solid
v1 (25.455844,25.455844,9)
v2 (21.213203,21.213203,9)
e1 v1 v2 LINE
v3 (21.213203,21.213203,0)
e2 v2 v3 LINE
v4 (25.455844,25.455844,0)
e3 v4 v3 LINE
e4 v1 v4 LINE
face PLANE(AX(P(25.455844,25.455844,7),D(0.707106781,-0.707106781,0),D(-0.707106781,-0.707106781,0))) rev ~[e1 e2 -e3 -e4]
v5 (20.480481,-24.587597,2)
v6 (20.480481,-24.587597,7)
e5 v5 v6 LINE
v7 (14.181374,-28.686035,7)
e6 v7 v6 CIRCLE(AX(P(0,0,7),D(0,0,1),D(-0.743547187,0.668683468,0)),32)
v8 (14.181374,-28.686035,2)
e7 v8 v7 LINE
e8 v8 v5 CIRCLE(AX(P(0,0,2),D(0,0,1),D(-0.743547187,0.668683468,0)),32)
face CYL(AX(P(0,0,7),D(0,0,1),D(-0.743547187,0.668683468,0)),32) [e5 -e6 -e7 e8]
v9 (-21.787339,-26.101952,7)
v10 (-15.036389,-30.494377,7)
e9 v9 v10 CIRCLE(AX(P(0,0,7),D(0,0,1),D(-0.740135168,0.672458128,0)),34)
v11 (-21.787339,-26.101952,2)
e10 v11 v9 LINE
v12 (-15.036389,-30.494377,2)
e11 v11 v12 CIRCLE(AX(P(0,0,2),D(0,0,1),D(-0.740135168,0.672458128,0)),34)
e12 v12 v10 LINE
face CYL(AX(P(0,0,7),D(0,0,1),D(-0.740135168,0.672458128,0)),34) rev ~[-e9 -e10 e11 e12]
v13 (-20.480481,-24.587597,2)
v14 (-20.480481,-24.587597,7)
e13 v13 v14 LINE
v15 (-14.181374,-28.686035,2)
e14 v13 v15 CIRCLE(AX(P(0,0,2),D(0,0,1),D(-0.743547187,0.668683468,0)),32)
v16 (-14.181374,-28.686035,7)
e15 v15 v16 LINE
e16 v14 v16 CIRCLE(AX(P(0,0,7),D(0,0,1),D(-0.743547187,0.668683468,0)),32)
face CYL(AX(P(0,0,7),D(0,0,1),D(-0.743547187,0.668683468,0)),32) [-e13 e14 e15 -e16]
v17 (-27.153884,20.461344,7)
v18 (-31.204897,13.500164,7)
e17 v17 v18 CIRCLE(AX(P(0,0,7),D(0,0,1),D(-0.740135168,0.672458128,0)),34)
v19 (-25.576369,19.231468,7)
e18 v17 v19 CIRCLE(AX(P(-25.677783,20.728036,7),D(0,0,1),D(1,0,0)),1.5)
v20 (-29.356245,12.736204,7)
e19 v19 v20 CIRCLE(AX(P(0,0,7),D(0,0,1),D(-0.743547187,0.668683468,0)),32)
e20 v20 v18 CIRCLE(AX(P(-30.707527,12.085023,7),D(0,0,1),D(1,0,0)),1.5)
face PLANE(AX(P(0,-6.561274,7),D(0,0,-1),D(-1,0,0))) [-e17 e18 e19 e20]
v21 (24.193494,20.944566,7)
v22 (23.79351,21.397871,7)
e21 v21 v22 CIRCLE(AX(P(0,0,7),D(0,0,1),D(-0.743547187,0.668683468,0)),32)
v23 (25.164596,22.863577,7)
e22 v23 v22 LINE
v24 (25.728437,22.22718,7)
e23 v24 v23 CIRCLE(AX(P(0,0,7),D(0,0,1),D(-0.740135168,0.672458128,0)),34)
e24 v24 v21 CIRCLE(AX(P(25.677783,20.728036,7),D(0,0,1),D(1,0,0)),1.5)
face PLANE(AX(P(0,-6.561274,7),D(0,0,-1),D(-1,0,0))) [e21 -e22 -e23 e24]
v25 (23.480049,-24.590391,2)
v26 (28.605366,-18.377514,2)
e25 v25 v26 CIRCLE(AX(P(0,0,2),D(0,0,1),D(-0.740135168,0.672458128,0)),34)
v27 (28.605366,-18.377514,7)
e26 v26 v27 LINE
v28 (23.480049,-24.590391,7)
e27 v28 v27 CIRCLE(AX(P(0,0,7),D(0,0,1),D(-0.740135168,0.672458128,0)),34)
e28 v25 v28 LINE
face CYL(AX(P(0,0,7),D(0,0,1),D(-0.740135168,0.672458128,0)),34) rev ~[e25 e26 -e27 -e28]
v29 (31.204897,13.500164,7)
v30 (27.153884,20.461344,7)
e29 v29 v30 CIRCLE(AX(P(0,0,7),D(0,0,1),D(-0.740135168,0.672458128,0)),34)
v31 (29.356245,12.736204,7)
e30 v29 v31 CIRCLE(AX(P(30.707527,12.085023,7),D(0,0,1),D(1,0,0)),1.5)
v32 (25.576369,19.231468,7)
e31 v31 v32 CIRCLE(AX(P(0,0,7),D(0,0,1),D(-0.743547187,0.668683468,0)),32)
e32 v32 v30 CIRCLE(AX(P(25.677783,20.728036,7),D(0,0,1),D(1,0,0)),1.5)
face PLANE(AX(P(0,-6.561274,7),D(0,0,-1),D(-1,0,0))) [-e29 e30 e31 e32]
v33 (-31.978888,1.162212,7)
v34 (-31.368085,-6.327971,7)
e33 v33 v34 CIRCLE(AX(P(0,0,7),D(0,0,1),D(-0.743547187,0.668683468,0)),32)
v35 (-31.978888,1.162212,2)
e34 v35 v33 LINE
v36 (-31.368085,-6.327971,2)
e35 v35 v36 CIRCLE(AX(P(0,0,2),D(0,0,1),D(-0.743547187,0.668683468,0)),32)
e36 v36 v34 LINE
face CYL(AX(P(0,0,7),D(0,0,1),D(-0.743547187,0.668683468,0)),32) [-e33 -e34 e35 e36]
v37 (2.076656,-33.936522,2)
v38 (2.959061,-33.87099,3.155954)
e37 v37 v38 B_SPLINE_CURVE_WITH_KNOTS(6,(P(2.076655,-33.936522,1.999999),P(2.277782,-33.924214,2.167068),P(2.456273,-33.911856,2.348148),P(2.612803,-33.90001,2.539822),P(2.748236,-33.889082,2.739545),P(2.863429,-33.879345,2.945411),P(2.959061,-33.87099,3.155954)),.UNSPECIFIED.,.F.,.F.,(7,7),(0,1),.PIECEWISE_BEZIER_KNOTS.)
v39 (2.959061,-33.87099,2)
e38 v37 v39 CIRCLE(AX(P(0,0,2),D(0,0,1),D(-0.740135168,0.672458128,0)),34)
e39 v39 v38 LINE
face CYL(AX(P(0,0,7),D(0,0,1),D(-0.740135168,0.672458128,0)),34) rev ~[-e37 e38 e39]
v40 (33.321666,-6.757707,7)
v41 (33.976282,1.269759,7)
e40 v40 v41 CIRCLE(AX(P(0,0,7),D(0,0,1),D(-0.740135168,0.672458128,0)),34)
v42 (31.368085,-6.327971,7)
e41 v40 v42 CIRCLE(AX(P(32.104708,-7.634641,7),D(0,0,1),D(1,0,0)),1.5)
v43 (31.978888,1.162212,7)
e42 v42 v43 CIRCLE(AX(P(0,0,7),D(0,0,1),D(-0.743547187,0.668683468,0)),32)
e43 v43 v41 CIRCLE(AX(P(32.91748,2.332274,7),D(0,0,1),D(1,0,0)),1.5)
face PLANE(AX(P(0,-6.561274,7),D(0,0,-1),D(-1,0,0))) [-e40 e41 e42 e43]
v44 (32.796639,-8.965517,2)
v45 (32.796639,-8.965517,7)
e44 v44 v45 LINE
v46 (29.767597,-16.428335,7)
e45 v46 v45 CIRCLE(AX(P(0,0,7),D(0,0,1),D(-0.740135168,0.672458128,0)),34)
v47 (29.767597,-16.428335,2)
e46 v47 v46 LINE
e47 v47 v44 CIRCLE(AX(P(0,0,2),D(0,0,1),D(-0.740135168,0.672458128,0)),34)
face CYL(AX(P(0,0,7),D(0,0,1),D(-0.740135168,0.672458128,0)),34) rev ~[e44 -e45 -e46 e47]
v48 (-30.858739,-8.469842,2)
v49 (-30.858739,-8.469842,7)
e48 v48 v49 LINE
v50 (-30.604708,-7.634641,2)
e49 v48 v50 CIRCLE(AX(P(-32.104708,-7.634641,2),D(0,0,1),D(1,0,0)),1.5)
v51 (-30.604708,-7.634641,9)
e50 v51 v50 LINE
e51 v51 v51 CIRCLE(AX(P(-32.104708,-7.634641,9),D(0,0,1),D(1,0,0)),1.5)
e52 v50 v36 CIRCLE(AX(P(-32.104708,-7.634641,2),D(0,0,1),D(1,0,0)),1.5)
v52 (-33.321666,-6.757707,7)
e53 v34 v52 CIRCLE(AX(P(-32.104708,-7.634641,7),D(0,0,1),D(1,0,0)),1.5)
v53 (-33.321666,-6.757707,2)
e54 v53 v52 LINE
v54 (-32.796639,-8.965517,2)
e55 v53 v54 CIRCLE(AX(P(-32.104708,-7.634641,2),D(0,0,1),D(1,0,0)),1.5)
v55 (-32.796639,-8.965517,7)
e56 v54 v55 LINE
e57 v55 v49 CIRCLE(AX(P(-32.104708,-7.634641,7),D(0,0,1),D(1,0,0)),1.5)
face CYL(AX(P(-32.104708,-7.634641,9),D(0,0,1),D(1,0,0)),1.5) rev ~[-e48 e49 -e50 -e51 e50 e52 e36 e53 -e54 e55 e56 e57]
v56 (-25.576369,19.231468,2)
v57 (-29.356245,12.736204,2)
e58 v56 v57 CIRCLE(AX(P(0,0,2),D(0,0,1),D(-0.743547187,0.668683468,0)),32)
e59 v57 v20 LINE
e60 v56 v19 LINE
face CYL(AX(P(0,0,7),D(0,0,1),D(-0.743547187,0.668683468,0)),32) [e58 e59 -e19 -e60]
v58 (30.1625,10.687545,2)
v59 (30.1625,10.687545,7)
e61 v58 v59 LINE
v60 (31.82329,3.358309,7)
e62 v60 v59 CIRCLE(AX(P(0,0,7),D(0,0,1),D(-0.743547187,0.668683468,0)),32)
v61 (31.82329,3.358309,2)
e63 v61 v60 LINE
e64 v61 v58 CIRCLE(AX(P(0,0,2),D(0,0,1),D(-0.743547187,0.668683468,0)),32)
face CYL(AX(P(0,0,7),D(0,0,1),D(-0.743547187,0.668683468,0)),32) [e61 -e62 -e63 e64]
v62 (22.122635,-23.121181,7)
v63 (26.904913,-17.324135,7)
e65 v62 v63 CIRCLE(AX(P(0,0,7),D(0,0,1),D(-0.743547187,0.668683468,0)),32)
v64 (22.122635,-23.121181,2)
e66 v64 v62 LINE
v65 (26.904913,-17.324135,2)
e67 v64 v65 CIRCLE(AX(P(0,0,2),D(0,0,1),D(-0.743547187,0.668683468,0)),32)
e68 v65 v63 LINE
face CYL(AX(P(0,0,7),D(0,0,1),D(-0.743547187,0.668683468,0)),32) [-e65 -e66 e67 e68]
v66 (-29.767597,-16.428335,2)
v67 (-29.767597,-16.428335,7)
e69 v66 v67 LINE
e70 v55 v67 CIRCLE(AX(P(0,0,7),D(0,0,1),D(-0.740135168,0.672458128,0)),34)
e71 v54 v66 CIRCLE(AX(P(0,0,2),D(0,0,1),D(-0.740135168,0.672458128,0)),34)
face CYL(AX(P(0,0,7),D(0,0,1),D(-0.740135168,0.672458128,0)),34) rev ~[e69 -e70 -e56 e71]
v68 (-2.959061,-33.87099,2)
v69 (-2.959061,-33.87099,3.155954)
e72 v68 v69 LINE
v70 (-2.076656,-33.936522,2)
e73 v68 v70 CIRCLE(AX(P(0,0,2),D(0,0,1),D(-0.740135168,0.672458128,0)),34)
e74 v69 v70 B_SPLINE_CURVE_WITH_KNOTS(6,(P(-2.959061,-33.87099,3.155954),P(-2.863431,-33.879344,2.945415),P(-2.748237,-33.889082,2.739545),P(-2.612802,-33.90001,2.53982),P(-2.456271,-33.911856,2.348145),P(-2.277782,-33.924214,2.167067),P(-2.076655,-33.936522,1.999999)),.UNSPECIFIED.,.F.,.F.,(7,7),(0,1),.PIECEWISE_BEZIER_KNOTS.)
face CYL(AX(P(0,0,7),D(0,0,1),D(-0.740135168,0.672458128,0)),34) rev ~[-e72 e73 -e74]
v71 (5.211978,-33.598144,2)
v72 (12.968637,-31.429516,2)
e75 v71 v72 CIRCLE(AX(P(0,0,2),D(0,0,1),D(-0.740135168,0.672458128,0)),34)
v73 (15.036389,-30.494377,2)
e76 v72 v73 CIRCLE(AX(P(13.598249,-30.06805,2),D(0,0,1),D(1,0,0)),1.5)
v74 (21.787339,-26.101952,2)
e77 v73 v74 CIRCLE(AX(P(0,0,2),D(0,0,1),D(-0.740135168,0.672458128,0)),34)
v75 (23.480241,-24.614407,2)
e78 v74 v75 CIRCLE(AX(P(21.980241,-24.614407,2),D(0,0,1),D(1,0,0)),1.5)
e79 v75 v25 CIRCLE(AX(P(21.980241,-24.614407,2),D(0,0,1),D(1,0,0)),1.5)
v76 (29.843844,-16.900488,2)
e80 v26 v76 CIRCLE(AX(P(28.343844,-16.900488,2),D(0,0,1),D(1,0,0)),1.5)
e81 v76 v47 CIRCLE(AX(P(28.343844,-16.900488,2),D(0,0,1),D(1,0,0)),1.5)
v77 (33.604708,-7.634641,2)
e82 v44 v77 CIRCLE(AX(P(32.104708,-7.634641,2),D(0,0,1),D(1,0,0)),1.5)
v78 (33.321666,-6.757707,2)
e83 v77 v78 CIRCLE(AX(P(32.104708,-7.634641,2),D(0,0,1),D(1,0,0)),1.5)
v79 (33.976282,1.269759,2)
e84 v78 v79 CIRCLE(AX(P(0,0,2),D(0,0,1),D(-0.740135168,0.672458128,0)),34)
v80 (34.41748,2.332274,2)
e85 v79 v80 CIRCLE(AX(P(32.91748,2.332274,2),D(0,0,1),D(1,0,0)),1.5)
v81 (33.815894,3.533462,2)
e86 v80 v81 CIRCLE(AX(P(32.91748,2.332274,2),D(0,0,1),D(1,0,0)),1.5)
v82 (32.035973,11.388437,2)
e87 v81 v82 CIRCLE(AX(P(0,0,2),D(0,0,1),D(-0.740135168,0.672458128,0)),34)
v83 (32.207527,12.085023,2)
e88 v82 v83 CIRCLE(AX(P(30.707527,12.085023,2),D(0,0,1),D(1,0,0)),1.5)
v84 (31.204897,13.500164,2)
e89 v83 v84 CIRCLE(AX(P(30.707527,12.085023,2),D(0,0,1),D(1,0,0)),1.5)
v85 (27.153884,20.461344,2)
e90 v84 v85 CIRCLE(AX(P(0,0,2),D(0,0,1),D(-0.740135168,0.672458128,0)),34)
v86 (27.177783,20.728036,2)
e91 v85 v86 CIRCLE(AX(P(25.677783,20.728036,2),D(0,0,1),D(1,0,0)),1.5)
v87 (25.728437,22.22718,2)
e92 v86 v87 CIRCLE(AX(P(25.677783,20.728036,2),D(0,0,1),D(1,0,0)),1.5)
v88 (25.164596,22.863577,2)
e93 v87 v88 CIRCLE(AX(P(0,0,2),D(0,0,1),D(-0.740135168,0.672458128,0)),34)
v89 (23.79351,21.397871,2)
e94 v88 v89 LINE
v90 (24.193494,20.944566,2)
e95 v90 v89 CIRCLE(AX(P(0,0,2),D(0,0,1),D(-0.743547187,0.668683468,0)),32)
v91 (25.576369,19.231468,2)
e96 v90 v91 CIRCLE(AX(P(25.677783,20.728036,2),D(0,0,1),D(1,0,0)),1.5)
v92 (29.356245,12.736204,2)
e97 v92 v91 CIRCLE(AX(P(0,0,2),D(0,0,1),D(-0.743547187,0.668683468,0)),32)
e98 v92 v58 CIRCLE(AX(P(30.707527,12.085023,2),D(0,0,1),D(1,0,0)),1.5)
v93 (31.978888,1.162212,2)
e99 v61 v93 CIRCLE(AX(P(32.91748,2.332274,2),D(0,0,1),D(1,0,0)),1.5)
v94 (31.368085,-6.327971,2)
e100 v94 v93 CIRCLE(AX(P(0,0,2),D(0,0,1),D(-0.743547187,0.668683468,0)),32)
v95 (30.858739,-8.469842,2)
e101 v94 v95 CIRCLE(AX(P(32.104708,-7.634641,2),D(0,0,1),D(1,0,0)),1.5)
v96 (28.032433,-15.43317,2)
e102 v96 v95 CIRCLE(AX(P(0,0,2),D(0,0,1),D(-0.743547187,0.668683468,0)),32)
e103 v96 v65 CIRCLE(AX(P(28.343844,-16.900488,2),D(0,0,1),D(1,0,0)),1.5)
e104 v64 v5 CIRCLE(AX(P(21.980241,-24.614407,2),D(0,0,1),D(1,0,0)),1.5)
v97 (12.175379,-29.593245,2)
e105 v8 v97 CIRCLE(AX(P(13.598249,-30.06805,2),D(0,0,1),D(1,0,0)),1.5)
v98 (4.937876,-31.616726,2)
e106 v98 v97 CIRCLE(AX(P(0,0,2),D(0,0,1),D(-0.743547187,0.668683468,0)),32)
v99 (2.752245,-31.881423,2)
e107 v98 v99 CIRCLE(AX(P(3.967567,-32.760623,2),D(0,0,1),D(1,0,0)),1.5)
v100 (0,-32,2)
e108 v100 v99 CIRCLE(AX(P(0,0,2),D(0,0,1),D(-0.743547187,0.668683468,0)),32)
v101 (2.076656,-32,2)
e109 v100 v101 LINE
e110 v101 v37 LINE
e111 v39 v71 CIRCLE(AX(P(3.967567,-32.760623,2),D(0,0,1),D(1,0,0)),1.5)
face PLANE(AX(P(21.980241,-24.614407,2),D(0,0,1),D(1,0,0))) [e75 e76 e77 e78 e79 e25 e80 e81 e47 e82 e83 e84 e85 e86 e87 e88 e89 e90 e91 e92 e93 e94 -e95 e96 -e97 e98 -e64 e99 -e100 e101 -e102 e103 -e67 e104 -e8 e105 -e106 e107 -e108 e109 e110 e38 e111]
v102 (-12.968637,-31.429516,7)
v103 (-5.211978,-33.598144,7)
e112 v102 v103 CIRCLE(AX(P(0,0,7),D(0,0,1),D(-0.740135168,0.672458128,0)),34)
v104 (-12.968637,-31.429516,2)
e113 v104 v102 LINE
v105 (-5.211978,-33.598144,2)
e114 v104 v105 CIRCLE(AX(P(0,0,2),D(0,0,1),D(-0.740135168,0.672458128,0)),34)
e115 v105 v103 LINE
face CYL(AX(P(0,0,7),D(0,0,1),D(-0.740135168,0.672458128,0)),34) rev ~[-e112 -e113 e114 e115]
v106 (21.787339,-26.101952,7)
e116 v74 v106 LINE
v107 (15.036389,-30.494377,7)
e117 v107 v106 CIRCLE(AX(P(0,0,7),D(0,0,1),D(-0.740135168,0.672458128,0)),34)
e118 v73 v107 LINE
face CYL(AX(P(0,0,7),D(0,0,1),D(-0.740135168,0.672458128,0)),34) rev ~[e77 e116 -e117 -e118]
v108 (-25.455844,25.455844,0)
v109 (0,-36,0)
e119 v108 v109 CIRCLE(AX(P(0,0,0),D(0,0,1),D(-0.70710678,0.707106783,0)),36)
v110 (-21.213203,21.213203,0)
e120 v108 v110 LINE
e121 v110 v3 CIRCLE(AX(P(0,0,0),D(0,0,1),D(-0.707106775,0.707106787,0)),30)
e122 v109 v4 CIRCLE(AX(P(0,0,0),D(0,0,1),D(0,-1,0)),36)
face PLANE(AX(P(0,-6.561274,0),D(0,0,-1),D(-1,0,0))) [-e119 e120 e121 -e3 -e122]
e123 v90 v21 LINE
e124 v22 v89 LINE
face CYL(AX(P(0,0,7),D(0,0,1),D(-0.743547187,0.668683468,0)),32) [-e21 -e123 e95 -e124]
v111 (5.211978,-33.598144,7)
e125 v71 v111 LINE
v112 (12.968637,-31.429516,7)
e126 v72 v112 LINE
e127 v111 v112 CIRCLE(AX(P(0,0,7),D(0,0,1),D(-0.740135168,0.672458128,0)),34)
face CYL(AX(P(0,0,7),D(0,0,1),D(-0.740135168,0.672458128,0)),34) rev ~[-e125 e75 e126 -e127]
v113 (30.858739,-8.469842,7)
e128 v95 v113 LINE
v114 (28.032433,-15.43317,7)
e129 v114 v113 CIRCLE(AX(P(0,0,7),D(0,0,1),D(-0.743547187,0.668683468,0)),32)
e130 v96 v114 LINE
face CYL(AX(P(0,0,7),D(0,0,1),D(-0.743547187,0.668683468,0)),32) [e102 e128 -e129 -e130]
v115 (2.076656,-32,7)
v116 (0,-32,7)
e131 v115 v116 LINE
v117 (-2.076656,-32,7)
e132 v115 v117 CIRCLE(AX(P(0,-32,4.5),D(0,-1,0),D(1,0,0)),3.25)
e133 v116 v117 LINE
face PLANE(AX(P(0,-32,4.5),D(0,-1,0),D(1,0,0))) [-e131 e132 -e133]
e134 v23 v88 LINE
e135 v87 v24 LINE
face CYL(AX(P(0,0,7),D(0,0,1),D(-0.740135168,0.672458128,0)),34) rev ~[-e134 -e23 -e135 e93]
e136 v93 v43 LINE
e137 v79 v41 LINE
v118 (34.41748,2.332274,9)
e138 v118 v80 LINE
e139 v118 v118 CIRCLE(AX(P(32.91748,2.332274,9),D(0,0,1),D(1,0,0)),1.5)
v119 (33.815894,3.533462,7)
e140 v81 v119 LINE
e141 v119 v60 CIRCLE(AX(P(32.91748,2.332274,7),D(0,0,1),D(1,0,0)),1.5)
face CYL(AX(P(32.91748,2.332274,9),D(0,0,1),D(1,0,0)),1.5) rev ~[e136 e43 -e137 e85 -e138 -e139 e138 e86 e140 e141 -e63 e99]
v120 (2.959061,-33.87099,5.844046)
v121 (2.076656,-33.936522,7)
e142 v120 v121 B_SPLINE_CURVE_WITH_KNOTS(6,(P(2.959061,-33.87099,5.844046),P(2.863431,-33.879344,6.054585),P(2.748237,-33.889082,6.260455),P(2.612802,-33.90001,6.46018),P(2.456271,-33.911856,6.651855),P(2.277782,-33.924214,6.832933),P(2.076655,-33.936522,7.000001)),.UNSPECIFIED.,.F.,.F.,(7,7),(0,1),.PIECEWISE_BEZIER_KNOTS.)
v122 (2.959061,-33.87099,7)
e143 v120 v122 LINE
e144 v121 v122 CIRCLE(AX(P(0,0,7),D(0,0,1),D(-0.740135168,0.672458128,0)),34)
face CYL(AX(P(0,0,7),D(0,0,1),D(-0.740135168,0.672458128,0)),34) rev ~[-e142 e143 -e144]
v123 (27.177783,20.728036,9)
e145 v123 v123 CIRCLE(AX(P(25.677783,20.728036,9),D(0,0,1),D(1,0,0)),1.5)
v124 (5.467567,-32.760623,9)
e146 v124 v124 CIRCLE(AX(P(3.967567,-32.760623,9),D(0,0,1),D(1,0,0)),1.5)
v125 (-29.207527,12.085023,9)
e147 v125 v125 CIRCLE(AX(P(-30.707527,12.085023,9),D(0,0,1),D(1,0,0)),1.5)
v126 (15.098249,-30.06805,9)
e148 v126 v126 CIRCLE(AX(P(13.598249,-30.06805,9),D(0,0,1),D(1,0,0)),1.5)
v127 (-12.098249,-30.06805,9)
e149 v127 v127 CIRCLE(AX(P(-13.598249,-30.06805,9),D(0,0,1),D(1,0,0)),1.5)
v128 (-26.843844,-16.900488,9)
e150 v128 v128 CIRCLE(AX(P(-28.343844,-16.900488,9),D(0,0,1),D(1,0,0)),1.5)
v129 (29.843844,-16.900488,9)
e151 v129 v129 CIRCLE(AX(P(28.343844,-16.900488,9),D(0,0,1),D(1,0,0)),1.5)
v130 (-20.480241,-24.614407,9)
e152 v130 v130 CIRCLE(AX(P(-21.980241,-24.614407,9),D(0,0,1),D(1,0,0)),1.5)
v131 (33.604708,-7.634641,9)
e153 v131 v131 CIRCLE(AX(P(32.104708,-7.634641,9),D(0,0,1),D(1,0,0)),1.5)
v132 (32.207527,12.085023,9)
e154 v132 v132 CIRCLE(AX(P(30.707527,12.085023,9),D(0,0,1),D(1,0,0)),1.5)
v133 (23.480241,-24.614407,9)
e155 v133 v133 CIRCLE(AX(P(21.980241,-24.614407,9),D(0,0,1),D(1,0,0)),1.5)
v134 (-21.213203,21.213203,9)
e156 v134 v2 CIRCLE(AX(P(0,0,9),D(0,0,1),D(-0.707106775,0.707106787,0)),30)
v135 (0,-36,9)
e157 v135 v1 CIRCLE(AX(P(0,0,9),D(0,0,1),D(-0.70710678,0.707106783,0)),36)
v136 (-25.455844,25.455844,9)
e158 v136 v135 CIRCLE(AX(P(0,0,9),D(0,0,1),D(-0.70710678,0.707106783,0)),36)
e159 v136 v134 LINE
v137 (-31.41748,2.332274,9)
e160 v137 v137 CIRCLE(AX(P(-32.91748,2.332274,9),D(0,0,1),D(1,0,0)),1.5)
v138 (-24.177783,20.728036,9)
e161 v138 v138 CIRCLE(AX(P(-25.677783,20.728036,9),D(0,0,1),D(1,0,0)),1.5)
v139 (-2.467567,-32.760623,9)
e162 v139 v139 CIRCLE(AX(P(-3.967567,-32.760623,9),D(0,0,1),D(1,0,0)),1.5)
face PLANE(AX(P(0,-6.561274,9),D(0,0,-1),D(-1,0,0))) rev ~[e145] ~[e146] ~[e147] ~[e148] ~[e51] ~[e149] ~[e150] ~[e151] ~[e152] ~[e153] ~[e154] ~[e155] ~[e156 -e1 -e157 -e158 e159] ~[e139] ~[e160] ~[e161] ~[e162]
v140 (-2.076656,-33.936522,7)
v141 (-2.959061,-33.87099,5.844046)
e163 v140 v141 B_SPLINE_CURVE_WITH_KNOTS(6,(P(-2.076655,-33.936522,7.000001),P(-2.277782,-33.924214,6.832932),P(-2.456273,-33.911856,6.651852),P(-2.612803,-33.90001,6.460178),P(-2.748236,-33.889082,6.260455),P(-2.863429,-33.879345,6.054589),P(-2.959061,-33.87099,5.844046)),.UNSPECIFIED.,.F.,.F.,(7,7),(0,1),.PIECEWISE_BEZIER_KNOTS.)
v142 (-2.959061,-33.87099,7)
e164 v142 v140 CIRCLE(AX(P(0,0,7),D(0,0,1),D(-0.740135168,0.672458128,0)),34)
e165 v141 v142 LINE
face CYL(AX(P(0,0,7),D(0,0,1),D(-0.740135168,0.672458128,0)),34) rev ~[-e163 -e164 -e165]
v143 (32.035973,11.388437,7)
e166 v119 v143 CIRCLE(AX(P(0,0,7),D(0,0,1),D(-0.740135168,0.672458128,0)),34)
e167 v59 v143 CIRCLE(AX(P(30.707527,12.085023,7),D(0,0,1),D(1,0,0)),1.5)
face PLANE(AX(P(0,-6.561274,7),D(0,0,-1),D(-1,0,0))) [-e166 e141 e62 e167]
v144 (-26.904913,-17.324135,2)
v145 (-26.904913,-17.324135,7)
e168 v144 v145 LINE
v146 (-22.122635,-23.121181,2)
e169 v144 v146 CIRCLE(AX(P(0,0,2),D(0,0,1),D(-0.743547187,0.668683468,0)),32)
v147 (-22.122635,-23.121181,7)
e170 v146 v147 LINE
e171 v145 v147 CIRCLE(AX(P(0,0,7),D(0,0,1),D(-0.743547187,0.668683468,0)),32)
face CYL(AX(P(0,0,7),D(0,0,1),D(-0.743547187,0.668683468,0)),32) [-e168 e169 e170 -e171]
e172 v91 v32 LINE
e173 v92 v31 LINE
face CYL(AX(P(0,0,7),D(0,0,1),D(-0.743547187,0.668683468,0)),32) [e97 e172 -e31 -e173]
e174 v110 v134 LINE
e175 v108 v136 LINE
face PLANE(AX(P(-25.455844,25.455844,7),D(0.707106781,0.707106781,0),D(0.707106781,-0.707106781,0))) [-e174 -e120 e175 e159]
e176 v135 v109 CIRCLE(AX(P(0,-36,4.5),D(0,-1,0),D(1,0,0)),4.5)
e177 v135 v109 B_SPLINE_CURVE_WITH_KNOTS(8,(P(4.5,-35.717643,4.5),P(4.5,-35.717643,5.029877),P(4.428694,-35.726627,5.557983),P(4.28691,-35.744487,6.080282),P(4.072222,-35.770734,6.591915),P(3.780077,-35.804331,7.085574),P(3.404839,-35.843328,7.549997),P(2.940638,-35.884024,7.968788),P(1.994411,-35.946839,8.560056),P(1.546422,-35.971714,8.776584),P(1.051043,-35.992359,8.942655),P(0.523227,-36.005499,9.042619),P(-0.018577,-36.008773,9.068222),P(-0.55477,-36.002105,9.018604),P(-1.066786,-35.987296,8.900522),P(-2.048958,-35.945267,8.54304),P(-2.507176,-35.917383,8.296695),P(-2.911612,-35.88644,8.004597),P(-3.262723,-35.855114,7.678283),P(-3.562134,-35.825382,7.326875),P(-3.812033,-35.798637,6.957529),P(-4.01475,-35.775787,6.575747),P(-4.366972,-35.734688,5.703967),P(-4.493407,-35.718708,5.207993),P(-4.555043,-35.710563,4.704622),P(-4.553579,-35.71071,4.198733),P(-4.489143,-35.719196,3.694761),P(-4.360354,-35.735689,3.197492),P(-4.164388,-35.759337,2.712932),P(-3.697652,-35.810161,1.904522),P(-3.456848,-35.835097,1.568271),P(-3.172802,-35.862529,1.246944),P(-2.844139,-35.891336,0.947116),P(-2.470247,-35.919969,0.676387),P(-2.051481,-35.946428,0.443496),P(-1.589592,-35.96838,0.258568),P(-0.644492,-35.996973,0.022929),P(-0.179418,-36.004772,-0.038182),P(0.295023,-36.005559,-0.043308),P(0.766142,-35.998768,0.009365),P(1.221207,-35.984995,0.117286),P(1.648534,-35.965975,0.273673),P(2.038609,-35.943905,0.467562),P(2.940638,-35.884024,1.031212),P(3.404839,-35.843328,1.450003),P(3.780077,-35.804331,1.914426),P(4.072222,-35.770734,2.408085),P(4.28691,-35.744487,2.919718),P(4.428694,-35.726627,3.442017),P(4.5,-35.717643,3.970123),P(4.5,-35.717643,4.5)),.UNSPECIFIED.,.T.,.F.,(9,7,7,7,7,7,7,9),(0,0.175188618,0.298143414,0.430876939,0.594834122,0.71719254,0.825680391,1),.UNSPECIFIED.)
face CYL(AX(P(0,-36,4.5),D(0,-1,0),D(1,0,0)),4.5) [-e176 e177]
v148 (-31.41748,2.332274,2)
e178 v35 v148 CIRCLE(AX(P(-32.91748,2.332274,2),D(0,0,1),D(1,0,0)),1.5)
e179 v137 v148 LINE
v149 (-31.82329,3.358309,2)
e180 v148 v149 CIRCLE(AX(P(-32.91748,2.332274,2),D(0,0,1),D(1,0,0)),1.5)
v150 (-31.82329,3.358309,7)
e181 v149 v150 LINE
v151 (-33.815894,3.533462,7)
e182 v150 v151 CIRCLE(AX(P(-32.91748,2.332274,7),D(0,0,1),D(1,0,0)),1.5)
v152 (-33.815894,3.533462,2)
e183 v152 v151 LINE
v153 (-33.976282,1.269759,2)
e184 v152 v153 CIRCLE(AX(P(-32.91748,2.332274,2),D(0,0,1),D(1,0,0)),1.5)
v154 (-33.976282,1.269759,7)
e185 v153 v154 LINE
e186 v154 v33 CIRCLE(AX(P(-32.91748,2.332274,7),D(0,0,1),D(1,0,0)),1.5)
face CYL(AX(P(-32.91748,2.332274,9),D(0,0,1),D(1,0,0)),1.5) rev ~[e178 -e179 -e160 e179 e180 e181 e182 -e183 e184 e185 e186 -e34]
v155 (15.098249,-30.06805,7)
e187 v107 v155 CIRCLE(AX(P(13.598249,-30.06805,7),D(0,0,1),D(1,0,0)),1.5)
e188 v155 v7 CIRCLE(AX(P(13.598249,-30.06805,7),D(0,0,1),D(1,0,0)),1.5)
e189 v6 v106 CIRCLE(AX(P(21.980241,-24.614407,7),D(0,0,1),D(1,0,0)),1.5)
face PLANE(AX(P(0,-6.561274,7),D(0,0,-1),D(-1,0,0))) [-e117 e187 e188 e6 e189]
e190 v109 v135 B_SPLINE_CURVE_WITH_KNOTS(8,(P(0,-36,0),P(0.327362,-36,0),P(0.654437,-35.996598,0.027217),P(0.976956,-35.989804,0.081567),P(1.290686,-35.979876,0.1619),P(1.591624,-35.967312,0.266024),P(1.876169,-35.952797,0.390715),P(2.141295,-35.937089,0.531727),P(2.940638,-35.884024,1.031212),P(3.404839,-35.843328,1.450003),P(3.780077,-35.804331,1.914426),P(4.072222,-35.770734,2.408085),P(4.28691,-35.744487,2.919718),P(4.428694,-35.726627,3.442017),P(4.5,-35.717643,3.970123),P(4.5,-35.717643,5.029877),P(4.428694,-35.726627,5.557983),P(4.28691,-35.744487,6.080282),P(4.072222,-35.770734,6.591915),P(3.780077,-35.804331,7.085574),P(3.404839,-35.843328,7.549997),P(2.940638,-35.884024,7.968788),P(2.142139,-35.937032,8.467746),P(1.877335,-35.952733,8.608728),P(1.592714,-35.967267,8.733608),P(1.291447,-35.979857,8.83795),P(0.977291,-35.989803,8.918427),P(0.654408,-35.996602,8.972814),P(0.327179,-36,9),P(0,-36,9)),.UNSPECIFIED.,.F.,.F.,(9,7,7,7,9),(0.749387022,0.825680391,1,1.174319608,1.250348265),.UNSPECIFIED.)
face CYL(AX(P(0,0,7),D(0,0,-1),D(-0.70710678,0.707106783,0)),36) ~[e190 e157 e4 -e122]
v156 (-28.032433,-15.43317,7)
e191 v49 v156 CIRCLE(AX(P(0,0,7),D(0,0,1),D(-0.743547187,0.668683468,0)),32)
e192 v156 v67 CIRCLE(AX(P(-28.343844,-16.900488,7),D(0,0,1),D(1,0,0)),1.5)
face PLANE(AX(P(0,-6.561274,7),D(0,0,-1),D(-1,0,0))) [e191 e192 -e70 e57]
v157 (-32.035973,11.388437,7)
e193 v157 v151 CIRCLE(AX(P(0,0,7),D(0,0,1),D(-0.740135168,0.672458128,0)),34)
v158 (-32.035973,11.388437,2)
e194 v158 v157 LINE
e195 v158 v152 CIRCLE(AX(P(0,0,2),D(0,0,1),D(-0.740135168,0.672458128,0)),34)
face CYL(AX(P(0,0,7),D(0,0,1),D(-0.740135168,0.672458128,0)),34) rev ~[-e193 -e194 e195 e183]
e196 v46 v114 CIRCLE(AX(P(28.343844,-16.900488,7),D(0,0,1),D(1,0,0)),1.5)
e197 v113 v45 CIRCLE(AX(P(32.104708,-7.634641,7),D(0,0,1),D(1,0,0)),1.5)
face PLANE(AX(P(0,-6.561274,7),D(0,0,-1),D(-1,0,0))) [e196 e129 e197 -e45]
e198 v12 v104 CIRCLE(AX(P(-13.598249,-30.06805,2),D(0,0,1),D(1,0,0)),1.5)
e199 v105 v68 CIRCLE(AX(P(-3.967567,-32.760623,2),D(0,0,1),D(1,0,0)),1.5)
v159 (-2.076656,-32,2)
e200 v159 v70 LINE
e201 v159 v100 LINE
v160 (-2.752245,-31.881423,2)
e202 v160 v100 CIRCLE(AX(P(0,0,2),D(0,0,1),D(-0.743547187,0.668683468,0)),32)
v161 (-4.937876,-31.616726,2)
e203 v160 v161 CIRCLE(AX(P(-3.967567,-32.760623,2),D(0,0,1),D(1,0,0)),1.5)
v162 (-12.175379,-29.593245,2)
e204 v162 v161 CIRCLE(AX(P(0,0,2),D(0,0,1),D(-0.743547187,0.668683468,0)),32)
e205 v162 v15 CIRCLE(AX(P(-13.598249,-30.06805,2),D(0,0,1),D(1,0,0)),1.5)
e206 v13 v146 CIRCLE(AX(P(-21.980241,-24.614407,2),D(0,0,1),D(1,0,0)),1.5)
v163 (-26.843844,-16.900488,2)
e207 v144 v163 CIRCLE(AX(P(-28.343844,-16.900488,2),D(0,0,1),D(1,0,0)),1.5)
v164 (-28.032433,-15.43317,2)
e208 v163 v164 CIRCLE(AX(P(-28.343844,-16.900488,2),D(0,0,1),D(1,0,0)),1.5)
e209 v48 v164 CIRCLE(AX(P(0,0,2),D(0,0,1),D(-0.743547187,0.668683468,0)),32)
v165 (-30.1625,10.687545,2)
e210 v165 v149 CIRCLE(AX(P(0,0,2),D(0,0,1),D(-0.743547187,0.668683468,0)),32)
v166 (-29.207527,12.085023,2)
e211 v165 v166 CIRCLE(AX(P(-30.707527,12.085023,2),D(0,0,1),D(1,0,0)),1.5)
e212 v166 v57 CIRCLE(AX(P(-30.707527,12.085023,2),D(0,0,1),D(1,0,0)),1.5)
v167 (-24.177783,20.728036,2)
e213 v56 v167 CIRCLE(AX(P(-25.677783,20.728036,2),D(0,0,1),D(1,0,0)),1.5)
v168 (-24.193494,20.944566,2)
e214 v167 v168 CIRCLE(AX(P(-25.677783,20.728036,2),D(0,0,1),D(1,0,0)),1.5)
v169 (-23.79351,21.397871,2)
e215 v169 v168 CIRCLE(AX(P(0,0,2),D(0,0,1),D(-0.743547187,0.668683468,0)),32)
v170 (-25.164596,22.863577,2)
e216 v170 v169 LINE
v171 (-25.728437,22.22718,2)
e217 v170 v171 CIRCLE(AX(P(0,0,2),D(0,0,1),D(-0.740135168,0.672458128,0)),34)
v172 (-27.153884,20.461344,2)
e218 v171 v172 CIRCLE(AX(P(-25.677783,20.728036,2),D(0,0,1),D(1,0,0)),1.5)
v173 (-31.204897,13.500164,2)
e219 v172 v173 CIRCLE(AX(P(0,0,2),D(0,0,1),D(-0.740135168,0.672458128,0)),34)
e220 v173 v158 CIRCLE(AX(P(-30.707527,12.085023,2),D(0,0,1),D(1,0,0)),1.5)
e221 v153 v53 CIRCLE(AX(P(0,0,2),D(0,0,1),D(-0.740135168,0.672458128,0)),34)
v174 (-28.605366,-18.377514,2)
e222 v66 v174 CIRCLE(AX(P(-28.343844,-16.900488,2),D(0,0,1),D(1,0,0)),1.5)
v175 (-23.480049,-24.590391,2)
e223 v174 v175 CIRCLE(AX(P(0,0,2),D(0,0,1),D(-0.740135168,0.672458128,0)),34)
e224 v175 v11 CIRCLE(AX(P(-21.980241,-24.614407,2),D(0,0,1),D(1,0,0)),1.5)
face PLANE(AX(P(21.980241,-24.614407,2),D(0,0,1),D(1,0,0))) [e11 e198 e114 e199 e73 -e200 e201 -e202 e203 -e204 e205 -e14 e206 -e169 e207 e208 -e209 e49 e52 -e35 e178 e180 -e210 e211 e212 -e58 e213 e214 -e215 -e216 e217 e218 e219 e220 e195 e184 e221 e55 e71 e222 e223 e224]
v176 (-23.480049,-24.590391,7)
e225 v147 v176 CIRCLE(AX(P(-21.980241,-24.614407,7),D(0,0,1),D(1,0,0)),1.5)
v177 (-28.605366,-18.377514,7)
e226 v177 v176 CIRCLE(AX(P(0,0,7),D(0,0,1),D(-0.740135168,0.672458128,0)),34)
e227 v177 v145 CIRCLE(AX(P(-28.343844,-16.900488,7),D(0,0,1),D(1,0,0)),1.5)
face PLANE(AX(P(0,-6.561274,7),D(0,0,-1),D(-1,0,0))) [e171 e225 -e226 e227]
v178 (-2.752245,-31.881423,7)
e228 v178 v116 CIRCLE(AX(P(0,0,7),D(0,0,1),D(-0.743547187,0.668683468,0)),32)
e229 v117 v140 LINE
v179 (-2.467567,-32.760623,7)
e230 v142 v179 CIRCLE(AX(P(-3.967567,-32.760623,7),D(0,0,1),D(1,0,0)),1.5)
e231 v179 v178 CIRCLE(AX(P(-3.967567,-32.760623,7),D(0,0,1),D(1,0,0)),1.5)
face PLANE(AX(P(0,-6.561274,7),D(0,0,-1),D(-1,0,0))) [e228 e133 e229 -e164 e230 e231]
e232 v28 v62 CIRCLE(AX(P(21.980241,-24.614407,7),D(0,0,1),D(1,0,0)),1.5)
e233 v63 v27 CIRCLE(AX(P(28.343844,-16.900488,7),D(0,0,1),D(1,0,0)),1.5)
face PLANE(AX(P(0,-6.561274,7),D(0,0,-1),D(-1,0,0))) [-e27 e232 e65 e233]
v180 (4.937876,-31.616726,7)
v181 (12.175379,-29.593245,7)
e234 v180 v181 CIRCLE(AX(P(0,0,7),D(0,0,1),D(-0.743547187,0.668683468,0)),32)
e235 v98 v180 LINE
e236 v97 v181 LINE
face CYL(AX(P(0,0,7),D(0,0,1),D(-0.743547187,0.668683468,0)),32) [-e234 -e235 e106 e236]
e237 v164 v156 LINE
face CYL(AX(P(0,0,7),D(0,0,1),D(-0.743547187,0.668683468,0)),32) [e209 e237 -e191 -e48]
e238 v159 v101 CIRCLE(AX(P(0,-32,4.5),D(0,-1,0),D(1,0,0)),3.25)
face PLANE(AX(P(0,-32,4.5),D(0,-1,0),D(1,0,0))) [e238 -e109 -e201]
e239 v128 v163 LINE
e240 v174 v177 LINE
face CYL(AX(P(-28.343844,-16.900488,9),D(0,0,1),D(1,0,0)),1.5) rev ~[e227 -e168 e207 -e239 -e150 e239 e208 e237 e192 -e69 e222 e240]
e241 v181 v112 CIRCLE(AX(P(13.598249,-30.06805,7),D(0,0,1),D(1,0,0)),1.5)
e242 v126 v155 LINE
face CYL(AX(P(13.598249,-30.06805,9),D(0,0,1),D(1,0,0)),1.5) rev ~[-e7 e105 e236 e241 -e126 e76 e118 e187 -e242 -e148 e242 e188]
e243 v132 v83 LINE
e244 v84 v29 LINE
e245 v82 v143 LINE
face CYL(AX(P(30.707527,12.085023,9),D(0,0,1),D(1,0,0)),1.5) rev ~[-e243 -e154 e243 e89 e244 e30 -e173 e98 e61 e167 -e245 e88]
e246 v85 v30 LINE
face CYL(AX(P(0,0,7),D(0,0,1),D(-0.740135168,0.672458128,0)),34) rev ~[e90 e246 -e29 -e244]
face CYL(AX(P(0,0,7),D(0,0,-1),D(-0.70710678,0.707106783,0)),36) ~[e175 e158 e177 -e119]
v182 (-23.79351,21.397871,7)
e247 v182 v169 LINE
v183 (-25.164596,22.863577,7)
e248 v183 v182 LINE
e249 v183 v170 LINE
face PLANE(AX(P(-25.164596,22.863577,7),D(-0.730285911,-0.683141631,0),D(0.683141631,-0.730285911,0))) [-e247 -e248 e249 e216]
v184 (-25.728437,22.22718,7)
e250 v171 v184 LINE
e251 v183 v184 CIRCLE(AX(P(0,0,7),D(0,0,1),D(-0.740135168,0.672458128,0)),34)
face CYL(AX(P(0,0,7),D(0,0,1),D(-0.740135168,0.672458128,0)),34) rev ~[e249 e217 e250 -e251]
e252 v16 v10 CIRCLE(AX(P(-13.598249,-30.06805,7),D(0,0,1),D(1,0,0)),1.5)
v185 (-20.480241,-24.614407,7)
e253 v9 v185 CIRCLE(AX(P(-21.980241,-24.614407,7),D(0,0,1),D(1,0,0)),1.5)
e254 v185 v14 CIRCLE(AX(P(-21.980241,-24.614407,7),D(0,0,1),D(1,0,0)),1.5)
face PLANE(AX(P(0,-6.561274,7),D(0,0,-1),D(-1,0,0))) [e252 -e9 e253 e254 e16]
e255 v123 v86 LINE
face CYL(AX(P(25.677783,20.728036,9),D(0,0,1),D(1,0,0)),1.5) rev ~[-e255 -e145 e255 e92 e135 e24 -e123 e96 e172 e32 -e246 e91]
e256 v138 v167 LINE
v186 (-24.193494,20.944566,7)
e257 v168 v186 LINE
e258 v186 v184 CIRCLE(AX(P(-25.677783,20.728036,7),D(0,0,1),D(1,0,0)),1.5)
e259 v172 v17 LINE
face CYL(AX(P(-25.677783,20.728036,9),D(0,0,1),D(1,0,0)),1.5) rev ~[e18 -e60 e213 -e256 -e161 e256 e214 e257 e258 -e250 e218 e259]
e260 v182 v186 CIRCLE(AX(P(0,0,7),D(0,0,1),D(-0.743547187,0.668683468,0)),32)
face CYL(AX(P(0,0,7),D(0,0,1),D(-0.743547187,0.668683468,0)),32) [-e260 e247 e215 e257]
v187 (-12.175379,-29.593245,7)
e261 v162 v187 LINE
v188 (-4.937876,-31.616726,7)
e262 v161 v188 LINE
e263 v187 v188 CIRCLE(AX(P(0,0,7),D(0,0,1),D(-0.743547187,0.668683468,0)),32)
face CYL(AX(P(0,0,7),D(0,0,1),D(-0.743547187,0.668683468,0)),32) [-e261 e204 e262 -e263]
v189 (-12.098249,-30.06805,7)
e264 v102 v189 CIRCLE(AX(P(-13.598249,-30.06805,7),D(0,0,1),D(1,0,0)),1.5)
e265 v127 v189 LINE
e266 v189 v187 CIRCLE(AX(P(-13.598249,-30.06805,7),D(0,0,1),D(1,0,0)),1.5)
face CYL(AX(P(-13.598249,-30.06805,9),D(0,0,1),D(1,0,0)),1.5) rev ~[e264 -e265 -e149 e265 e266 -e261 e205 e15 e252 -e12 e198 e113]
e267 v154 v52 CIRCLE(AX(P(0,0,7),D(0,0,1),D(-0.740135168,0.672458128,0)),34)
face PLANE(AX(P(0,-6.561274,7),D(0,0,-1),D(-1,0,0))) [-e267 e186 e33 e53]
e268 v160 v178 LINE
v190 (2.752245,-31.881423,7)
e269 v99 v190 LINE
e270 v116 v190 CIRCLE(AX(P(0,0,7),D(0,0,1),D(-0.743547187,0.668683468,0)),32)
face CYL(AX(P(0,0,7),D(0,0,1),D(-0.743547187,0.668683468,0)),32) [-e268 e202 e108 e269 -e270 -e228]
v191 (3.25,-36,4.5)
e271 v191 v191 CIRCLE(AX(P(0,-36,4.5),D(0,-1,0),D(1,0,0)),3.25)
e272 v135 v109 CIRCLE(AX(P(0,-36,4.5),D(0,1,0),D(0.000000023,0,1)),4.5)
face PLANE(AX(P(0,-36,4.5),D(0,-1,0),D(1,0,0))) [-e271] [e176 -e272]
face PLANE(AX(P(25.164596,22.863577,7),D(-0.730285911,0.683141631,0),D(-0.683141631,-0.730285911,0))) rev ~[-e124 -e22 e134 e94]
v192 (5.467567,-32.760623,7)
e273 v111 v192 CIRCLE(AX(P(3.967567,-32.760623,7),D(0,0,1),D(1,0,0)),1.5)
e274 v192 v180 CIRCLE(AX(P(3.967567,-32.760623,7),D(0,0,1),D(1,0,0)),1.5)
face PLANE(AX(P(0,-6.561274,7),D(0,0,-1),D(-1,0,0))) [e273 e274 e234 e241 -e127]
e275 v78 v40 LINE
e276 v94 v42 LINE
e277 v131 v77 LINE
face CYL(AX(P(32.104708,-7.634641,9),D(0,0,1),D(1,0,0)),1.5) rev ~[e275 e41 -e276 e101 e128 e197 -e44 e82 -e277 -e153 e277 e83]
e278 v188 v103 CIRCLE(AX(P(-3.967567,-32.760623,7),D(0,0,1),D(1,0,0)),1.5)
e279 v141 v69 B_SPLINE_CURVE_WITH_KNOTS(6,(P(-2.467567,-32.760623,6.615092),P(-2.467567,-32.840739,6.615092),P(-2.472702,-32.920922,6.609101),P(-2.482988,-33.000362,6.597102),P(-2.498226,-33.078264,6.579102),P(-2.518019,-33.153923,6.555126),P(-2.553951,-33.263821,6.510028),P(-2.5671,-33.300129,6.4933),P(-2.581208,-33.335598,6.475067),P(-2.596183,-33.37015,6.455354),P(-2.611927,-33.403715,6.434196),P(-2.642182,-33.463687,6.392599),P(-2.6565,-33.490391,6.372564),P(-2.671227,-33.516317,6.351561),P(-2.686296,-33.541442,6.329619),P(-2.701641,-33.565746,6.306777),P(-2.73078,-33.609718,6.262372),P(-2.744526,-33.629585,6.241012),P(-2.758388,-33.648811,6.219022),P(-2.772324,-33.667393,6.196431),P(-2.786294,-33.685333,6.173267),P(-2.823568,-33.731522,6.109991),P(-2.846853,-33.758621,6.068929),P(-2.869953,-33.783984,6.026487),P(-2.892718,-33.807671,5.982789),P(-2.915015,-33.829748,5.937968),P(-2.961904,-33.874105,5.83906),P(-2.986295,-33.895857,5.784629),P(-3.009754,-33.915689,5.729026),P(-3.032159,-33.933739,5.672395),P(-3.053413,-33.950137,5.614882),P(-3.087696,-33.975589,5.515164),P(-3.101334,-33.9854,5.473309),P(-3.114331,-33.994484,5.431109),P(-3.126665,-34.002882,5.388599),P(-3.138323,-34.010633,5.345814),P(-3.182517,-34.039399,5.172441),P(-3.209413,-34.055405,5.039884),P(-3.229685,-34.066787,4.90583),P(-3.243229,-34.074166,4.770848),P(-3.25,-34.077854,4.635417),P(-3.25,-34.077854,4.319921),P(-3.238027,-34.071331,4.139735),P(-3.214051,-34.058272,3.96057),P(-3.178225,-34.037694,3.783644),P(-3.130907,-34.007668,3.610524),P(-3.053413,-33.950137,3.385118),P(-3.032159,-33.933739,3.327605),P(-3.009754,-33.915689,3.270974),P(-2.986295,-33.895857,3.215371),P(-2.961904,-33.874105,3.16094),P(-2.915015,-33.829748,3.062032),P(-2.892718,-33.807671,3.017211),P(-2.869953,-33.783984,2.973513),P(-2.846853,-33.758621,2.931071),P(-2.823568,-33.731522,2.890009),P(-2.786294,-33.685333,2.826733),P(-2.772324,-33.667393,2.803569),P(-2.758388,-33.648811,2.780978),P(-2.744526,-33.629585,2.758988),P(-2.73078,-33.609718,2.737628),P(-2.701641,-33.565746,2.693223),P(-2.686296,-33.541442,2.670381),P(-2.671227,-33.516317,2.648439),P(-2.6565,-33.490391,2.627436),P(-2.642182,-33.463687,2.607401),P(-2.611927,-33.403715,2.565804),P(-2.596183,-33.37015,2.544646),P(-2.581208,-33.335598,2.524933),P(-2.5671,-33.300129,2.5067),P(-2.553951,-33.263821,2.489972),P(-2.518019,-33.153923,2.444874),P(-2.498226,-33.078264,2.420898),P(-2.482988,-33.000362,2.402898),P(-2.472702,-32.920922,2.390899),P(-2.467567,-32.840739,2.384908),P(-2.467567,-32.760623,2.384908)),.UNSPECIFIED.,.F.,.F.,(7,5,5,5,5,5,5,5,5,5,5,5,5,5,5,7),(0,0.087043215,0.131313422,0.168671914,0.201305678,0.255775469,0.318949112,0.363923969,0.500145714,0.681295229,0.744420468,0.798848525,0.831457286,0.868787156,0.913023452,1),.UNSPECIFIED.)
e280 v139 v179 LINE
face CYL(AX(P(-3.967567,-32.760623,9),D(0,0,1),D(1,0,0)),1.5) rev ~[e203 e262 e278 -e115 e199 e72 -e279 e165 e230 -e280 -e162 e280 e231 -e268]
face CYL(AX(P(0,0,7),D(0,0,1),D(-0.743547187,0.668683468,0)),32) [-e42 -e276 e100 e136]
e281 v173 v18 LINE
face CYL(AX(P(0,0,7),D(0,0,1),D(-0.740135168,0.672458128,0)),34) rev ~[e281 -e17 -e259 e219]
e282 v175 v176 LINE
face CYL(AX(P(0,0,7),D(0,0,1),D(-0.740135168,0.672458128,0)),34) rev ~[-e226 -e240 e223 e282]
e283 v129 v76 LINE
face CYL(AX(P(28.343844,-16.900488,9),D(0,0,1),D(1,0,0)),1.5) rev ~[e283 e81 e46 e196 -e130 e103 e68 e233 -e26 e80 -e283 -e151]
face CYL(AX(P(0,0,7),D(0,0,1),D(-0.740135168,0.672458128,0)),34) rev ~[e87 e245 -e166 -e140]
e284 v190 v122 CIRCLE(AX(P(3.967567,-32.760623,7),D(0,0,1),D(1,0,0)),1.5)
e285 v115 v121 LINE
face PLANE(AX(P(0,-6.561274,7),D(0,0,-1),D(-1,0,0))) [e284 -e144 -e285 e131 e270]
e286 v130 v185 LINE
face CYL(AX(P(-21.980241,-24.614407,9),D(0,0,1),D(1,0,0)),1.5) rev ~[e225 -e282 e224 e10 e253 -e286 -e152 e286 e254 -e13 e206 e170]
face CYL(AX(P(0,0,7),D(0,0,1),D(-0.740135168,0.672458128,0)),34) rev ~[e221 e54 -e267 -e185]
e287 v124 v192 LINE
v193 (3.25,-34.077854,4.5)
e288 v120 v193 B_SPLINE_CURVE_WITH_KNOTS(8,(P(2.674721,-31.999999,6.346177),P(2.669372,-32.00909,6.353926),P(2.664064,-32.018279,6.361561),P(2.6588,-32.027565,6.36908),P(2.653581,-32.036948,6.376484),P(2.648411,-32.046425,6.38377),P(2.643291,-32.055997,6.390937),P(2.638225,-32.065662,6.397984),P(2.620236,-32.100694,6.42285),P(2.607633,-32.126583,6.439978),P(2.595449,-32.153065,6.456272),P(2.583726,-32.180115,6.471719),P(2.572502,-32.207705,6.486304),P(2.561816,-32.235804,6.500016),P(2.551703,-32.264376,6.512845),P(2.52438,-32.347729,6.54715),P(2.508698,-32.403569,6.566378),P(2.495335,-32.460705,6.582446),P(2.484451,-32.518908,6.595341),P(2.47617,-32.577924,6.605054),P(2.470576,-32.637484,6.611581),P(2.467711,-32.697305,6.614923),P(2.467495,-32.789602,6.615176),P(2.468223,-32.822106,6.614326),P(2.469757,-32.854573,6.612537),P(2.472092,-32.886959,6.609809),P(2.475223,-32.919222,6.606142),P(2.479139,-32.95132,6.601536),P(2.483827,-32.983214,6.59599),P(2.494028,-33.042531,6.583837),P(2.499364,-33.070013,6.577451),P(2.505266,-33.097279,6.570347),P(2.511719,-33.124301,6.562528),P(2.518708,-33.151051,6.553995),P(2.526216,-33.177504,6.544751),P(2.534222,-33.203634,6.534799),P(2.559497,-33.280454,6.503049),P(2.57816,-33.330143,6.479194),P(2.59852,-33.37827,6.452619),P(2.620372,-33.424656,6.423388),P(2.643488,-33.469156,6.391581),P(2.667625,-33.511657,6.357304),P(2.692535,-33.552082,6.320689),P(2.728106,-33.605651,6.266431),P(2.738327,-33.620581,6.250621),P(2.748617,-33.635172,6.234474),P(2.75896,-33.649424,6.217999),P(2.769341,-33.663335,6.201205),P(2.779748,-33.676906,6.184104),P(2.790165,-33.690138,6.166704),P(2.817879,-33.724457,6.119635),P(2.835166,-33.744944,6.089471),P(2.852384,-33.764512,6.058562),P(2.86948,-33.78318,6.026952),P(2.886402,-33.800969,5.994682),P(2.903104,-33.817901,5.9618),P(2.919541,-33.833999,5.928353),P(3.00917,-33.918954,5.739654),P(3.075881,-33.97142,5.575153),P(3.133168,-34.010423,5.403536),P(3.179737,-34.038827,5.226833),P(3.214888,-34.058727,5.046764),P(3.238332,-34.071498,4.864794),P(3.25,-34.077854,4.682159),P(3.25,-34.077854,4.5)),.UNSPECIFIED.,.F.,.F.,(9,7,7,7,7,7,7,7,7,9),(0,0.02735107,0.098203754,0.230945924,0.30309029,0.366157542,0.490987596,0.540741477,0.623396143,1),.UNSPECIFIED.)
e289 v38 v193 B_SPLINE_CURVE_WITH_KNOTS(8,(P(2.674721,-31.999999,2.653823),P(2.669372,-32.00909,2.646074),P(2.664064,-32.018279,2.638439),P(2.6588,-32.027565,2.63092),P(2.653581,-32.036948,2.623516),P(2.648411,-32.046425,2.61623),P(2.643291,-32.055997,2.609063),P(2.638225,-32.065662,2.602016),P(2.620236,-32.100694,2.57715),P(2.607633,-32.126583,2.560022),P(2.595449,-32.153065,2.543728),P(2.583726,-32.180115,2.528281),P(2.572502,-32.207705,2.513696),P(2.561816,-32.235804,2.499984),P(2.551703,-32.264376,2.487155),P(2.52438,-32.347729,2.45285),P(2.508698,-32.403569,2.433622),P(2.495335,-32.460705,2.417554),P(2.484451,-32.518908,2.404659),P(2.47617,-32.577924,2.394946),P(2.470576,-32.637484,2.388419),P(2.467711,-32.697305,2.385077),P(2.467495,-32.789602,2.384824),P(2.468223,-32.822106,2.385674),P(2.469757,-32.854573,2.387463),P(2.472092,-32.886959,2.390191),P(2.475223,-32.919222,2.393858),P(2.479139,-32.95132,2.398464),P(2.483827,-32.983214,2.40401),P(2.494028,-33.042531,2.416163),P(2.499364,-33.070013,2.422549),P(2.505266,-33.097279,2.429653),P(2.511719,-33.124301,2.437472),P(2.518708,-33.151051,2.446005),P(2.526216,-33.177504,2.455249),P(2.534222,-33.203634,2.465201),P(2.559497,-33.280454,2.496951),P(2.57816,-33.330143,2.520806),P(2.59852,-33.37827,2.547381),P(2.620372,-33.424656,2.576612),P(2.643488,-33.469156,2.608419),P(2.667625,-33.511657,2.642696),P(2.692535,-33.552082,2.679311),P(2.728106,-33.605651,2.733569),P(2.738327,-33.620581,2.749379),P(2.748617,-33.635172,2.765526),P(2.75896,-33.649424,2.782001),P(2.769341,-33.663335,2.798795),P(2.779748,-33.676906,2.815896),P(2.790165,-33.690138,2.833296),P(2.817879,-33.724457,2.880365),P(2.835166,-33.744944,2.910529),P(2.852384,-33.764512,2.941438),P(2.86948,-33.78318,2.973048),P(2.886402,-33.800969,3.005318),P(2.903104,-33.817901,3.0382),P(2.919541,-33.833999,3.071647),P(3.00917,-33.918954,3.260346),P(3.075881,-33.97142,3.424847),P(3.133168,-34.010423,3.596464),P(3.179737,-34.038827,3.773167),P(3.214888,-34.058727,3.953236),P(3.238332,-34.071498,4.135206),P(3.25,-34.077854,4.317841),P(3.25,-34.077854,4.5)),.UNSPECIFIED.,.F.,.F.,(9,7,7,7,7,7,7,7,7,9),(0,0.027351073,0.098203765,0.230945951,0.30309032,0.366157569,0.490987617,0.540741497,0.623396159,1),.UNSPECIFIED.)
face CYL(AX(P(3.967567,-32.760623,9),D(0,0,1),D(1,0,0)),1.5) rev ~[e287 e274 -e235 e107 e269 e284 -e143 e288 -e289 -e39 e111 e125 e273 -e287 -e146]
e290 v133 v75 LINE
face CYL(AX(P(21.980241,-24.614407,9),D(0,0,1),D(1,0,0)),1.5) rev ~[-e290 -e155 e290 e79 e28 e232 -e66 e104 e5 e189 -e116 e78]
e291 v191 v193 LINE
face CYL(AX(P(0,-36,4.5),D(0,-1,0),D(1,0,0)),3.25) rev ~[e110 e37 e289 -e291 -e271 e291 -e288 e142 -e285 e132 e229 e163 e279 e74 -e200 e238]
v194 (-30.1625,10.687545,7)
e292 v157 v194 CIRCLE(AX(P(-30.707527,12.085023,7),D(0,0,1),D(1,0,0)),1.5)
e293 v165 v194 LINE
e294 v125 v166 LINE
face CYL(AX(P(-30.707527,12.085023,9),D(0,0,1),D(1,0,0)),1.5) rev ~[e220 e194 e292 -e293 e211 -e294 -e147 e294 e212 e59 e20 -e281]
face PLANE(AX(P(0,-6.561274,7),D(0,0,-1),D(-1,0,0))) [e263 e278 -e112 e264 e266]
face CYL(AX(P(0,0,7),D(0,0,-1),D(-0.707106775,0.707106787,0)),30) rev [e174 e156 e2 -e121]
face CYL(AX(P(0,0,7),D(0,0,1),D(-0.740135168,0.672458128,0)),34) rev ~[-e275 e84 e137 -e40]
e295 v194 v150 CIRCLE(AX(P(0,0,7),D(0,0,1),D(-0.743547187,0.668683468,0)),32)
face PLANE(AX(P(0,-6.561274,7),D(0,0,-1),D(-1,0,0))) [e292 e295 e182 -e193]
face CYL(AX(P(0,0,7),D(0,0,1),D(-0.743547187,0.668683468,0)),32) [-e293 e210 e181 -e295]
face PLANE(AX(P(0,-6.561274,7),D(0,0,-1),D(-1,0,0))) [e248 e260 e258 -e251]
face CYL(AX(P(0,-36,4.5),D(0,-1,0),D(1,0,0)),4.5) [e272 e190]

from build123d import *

# Parameters (mm, degrees)
PAD074_DEPTH    = 7
POCKET073_DEPTH = 5
PAD075_DEPTH    = 2
SKETCH187_R     = 1.5
POCKET074_DEPTH = 7
SKETCH189_W     = 1
SKETCH189_H     = 6
PAD076_DEPTH    = 1
SKETCH190_R     = 4.5
PAD077_DEPTH    = 1
SKETCH191_R     = 3.25
POCKET075_DEPTH = 4
SKETCH192_W     = 6
SKETCH192_H     = 1
POCKET076_DEPTH = 1


with BuildPart() as part:
    # Sketch184 → Pad074 (new body)
    with BuildSketch(Plane.XY):
        with BuildLine():
            ThreePointArc((-21.213203, 21.213203), (0, -30), (21.213203, 21.213203))
            Line((25.455844, 25.455844), (21.213203, 21.213203))
            ThreePointArc((-25.455844, 25.455844), (0, -36), (25.455844, 25.455844))
            Line((-25.455844, 25.455844), (-21.213203, 21.213203))
        make_face()
    extrude(amount=PAD074_DEPTH)

    # Sketch185 (on Face6 of Pad074) → Pocket073 (cut)
    with BuildSketch(Plane.XY.offset(7)):
        with BuildLine():
            ThreePointArc((-23.79351, 21.397871), (0, -32), (23.79351, 21.397871))
            Line((25.164596, 22.863577), (23.79351, 21.397871))
            ThreePointArc((-25.164596, 22.863577), (0, -34), (25.164596, 22.863577))
            Line((-25.164596, 22.863577), (-23.79351, 21.397871))
        make_face()
    extrude(amount=-POCKET073_DEPTH, mode=Mode.SUBTRACT)

    # Sketch186 (on Face5 of Pocket073) → Pad075 (join)
    with BuildSketch(Plane.XY.offset(7)):
        with BuildLine():
            ThreePointArc((-21.213203, 21.213203), (0, -30), (21.213203, 21.213203))
            Line((25.455844, 25.455844), (21.213203, 21.213203))
            ThreePointArc((-25.455844, 25.455844), (0, -36), (25.455844, 25.455844))
            Line((-25.455844, 25.455844), (-21.213203, 21.213203))
        make_face()
    extrude(amount=PAD075_DEPTH)

    # Sketch187 (on Face10 of Pad075) → Pocket074 (cut)
    with BuildSketch(Plane.XY.offset(9)):
        with Locations((-25.677783, 20.728036)):
            Circle(SKETCH187_R)
        with Locations((-30.707527, 12.085023)):
            Circle(SKETCH187_R)
        with Locations((-32.91748, 2.332274)):
            Circle(SKETCH187_R)
        with Locations((-32.104708, -7.634641)):
            Circle(SKETCH187_R)
        with Locations((-28.343844, -16.900488)):
            Circle(SKETCH187_R)
        with Locations((-21.980241, -24.614407)):
            Circle(SKETCH187_R)
        with Locations((-13.598249, -30.06805)):
            Circle(SKETCH187_R)
        with Locations((-3.967567, -32.760623)):
            Circle(SKETCH187_R)
        with Locations((3.967567, -32.760623)):
            Circle(SKETCH187_R)
        with Locations((13.598249, -30.06805)):
            Circle(SKETCH187_R)
        with Locations((21.980241, -24.614407)):
            Circle(SKETCH187_R)
        with Locations((28.343844, -16.900488)):
            Circle(SKETCH187_R)
        with Locations((32.104708, -7.634641)):
            Circle(SKETCH187_R)
        with Locations((32.91748, 2.332274)):
            Circle(SKETCH187_R)
        with Locations((30.707527, 12.085023)):
            Circle(SKETCH187_R)
        with Locations((25.677783, 20.728036)):
            Circle(SKETCH187_R)
    extrude(amount=-POCKET074_DEPTH, mode=Mode.SUBTRACT)

    # Sketch189 (on Face1 of Pocket074) → Pad076 (join)
    with BuildSketch(Plane(origin=(0, 0, 0), x_dir=(1, 0, 0), z_dir=(0, 0, -1))):
        with Locations((0.5, 33)):
            Rectangle(SKETCH189_W, SKETCH189_H)
    extrude(amount=PAD076_DEPTH)

    # Sketch190 (on Face14 of Pad076) → Pad077 (join)
    with BuildSketch(Plane.XZ.offset(36)):
        with Locations((0, 4.5)):
            Circle(SKETCH190_R)
    extrude(amount=-PAD077_DEPTH)

    # Sketch191 (on Face13 of Pad077) → Pocket075 (cut)
    with BuildSketch(Plane.XZ.offset(36)):
        with Locations((0, 4.5)):
            Circle(SKETCH191_R)
    extrude(amount=-POCKET075_DEPTH, mode=Mode.SUBTRACT)

    # Sketch192 (on Face35 of Pocket075) → Pocket076 (cut)
    with BuildSketch(Plane.YZ.offset(1)):
        with Locations((-33, -0.5)):
            Rectangle(SKETCH192_W, SKETCH192_H)
    extrude(amount=-POCKET076_DEPTH, mode=Mode.SUBTRACT)


solid = part.part
